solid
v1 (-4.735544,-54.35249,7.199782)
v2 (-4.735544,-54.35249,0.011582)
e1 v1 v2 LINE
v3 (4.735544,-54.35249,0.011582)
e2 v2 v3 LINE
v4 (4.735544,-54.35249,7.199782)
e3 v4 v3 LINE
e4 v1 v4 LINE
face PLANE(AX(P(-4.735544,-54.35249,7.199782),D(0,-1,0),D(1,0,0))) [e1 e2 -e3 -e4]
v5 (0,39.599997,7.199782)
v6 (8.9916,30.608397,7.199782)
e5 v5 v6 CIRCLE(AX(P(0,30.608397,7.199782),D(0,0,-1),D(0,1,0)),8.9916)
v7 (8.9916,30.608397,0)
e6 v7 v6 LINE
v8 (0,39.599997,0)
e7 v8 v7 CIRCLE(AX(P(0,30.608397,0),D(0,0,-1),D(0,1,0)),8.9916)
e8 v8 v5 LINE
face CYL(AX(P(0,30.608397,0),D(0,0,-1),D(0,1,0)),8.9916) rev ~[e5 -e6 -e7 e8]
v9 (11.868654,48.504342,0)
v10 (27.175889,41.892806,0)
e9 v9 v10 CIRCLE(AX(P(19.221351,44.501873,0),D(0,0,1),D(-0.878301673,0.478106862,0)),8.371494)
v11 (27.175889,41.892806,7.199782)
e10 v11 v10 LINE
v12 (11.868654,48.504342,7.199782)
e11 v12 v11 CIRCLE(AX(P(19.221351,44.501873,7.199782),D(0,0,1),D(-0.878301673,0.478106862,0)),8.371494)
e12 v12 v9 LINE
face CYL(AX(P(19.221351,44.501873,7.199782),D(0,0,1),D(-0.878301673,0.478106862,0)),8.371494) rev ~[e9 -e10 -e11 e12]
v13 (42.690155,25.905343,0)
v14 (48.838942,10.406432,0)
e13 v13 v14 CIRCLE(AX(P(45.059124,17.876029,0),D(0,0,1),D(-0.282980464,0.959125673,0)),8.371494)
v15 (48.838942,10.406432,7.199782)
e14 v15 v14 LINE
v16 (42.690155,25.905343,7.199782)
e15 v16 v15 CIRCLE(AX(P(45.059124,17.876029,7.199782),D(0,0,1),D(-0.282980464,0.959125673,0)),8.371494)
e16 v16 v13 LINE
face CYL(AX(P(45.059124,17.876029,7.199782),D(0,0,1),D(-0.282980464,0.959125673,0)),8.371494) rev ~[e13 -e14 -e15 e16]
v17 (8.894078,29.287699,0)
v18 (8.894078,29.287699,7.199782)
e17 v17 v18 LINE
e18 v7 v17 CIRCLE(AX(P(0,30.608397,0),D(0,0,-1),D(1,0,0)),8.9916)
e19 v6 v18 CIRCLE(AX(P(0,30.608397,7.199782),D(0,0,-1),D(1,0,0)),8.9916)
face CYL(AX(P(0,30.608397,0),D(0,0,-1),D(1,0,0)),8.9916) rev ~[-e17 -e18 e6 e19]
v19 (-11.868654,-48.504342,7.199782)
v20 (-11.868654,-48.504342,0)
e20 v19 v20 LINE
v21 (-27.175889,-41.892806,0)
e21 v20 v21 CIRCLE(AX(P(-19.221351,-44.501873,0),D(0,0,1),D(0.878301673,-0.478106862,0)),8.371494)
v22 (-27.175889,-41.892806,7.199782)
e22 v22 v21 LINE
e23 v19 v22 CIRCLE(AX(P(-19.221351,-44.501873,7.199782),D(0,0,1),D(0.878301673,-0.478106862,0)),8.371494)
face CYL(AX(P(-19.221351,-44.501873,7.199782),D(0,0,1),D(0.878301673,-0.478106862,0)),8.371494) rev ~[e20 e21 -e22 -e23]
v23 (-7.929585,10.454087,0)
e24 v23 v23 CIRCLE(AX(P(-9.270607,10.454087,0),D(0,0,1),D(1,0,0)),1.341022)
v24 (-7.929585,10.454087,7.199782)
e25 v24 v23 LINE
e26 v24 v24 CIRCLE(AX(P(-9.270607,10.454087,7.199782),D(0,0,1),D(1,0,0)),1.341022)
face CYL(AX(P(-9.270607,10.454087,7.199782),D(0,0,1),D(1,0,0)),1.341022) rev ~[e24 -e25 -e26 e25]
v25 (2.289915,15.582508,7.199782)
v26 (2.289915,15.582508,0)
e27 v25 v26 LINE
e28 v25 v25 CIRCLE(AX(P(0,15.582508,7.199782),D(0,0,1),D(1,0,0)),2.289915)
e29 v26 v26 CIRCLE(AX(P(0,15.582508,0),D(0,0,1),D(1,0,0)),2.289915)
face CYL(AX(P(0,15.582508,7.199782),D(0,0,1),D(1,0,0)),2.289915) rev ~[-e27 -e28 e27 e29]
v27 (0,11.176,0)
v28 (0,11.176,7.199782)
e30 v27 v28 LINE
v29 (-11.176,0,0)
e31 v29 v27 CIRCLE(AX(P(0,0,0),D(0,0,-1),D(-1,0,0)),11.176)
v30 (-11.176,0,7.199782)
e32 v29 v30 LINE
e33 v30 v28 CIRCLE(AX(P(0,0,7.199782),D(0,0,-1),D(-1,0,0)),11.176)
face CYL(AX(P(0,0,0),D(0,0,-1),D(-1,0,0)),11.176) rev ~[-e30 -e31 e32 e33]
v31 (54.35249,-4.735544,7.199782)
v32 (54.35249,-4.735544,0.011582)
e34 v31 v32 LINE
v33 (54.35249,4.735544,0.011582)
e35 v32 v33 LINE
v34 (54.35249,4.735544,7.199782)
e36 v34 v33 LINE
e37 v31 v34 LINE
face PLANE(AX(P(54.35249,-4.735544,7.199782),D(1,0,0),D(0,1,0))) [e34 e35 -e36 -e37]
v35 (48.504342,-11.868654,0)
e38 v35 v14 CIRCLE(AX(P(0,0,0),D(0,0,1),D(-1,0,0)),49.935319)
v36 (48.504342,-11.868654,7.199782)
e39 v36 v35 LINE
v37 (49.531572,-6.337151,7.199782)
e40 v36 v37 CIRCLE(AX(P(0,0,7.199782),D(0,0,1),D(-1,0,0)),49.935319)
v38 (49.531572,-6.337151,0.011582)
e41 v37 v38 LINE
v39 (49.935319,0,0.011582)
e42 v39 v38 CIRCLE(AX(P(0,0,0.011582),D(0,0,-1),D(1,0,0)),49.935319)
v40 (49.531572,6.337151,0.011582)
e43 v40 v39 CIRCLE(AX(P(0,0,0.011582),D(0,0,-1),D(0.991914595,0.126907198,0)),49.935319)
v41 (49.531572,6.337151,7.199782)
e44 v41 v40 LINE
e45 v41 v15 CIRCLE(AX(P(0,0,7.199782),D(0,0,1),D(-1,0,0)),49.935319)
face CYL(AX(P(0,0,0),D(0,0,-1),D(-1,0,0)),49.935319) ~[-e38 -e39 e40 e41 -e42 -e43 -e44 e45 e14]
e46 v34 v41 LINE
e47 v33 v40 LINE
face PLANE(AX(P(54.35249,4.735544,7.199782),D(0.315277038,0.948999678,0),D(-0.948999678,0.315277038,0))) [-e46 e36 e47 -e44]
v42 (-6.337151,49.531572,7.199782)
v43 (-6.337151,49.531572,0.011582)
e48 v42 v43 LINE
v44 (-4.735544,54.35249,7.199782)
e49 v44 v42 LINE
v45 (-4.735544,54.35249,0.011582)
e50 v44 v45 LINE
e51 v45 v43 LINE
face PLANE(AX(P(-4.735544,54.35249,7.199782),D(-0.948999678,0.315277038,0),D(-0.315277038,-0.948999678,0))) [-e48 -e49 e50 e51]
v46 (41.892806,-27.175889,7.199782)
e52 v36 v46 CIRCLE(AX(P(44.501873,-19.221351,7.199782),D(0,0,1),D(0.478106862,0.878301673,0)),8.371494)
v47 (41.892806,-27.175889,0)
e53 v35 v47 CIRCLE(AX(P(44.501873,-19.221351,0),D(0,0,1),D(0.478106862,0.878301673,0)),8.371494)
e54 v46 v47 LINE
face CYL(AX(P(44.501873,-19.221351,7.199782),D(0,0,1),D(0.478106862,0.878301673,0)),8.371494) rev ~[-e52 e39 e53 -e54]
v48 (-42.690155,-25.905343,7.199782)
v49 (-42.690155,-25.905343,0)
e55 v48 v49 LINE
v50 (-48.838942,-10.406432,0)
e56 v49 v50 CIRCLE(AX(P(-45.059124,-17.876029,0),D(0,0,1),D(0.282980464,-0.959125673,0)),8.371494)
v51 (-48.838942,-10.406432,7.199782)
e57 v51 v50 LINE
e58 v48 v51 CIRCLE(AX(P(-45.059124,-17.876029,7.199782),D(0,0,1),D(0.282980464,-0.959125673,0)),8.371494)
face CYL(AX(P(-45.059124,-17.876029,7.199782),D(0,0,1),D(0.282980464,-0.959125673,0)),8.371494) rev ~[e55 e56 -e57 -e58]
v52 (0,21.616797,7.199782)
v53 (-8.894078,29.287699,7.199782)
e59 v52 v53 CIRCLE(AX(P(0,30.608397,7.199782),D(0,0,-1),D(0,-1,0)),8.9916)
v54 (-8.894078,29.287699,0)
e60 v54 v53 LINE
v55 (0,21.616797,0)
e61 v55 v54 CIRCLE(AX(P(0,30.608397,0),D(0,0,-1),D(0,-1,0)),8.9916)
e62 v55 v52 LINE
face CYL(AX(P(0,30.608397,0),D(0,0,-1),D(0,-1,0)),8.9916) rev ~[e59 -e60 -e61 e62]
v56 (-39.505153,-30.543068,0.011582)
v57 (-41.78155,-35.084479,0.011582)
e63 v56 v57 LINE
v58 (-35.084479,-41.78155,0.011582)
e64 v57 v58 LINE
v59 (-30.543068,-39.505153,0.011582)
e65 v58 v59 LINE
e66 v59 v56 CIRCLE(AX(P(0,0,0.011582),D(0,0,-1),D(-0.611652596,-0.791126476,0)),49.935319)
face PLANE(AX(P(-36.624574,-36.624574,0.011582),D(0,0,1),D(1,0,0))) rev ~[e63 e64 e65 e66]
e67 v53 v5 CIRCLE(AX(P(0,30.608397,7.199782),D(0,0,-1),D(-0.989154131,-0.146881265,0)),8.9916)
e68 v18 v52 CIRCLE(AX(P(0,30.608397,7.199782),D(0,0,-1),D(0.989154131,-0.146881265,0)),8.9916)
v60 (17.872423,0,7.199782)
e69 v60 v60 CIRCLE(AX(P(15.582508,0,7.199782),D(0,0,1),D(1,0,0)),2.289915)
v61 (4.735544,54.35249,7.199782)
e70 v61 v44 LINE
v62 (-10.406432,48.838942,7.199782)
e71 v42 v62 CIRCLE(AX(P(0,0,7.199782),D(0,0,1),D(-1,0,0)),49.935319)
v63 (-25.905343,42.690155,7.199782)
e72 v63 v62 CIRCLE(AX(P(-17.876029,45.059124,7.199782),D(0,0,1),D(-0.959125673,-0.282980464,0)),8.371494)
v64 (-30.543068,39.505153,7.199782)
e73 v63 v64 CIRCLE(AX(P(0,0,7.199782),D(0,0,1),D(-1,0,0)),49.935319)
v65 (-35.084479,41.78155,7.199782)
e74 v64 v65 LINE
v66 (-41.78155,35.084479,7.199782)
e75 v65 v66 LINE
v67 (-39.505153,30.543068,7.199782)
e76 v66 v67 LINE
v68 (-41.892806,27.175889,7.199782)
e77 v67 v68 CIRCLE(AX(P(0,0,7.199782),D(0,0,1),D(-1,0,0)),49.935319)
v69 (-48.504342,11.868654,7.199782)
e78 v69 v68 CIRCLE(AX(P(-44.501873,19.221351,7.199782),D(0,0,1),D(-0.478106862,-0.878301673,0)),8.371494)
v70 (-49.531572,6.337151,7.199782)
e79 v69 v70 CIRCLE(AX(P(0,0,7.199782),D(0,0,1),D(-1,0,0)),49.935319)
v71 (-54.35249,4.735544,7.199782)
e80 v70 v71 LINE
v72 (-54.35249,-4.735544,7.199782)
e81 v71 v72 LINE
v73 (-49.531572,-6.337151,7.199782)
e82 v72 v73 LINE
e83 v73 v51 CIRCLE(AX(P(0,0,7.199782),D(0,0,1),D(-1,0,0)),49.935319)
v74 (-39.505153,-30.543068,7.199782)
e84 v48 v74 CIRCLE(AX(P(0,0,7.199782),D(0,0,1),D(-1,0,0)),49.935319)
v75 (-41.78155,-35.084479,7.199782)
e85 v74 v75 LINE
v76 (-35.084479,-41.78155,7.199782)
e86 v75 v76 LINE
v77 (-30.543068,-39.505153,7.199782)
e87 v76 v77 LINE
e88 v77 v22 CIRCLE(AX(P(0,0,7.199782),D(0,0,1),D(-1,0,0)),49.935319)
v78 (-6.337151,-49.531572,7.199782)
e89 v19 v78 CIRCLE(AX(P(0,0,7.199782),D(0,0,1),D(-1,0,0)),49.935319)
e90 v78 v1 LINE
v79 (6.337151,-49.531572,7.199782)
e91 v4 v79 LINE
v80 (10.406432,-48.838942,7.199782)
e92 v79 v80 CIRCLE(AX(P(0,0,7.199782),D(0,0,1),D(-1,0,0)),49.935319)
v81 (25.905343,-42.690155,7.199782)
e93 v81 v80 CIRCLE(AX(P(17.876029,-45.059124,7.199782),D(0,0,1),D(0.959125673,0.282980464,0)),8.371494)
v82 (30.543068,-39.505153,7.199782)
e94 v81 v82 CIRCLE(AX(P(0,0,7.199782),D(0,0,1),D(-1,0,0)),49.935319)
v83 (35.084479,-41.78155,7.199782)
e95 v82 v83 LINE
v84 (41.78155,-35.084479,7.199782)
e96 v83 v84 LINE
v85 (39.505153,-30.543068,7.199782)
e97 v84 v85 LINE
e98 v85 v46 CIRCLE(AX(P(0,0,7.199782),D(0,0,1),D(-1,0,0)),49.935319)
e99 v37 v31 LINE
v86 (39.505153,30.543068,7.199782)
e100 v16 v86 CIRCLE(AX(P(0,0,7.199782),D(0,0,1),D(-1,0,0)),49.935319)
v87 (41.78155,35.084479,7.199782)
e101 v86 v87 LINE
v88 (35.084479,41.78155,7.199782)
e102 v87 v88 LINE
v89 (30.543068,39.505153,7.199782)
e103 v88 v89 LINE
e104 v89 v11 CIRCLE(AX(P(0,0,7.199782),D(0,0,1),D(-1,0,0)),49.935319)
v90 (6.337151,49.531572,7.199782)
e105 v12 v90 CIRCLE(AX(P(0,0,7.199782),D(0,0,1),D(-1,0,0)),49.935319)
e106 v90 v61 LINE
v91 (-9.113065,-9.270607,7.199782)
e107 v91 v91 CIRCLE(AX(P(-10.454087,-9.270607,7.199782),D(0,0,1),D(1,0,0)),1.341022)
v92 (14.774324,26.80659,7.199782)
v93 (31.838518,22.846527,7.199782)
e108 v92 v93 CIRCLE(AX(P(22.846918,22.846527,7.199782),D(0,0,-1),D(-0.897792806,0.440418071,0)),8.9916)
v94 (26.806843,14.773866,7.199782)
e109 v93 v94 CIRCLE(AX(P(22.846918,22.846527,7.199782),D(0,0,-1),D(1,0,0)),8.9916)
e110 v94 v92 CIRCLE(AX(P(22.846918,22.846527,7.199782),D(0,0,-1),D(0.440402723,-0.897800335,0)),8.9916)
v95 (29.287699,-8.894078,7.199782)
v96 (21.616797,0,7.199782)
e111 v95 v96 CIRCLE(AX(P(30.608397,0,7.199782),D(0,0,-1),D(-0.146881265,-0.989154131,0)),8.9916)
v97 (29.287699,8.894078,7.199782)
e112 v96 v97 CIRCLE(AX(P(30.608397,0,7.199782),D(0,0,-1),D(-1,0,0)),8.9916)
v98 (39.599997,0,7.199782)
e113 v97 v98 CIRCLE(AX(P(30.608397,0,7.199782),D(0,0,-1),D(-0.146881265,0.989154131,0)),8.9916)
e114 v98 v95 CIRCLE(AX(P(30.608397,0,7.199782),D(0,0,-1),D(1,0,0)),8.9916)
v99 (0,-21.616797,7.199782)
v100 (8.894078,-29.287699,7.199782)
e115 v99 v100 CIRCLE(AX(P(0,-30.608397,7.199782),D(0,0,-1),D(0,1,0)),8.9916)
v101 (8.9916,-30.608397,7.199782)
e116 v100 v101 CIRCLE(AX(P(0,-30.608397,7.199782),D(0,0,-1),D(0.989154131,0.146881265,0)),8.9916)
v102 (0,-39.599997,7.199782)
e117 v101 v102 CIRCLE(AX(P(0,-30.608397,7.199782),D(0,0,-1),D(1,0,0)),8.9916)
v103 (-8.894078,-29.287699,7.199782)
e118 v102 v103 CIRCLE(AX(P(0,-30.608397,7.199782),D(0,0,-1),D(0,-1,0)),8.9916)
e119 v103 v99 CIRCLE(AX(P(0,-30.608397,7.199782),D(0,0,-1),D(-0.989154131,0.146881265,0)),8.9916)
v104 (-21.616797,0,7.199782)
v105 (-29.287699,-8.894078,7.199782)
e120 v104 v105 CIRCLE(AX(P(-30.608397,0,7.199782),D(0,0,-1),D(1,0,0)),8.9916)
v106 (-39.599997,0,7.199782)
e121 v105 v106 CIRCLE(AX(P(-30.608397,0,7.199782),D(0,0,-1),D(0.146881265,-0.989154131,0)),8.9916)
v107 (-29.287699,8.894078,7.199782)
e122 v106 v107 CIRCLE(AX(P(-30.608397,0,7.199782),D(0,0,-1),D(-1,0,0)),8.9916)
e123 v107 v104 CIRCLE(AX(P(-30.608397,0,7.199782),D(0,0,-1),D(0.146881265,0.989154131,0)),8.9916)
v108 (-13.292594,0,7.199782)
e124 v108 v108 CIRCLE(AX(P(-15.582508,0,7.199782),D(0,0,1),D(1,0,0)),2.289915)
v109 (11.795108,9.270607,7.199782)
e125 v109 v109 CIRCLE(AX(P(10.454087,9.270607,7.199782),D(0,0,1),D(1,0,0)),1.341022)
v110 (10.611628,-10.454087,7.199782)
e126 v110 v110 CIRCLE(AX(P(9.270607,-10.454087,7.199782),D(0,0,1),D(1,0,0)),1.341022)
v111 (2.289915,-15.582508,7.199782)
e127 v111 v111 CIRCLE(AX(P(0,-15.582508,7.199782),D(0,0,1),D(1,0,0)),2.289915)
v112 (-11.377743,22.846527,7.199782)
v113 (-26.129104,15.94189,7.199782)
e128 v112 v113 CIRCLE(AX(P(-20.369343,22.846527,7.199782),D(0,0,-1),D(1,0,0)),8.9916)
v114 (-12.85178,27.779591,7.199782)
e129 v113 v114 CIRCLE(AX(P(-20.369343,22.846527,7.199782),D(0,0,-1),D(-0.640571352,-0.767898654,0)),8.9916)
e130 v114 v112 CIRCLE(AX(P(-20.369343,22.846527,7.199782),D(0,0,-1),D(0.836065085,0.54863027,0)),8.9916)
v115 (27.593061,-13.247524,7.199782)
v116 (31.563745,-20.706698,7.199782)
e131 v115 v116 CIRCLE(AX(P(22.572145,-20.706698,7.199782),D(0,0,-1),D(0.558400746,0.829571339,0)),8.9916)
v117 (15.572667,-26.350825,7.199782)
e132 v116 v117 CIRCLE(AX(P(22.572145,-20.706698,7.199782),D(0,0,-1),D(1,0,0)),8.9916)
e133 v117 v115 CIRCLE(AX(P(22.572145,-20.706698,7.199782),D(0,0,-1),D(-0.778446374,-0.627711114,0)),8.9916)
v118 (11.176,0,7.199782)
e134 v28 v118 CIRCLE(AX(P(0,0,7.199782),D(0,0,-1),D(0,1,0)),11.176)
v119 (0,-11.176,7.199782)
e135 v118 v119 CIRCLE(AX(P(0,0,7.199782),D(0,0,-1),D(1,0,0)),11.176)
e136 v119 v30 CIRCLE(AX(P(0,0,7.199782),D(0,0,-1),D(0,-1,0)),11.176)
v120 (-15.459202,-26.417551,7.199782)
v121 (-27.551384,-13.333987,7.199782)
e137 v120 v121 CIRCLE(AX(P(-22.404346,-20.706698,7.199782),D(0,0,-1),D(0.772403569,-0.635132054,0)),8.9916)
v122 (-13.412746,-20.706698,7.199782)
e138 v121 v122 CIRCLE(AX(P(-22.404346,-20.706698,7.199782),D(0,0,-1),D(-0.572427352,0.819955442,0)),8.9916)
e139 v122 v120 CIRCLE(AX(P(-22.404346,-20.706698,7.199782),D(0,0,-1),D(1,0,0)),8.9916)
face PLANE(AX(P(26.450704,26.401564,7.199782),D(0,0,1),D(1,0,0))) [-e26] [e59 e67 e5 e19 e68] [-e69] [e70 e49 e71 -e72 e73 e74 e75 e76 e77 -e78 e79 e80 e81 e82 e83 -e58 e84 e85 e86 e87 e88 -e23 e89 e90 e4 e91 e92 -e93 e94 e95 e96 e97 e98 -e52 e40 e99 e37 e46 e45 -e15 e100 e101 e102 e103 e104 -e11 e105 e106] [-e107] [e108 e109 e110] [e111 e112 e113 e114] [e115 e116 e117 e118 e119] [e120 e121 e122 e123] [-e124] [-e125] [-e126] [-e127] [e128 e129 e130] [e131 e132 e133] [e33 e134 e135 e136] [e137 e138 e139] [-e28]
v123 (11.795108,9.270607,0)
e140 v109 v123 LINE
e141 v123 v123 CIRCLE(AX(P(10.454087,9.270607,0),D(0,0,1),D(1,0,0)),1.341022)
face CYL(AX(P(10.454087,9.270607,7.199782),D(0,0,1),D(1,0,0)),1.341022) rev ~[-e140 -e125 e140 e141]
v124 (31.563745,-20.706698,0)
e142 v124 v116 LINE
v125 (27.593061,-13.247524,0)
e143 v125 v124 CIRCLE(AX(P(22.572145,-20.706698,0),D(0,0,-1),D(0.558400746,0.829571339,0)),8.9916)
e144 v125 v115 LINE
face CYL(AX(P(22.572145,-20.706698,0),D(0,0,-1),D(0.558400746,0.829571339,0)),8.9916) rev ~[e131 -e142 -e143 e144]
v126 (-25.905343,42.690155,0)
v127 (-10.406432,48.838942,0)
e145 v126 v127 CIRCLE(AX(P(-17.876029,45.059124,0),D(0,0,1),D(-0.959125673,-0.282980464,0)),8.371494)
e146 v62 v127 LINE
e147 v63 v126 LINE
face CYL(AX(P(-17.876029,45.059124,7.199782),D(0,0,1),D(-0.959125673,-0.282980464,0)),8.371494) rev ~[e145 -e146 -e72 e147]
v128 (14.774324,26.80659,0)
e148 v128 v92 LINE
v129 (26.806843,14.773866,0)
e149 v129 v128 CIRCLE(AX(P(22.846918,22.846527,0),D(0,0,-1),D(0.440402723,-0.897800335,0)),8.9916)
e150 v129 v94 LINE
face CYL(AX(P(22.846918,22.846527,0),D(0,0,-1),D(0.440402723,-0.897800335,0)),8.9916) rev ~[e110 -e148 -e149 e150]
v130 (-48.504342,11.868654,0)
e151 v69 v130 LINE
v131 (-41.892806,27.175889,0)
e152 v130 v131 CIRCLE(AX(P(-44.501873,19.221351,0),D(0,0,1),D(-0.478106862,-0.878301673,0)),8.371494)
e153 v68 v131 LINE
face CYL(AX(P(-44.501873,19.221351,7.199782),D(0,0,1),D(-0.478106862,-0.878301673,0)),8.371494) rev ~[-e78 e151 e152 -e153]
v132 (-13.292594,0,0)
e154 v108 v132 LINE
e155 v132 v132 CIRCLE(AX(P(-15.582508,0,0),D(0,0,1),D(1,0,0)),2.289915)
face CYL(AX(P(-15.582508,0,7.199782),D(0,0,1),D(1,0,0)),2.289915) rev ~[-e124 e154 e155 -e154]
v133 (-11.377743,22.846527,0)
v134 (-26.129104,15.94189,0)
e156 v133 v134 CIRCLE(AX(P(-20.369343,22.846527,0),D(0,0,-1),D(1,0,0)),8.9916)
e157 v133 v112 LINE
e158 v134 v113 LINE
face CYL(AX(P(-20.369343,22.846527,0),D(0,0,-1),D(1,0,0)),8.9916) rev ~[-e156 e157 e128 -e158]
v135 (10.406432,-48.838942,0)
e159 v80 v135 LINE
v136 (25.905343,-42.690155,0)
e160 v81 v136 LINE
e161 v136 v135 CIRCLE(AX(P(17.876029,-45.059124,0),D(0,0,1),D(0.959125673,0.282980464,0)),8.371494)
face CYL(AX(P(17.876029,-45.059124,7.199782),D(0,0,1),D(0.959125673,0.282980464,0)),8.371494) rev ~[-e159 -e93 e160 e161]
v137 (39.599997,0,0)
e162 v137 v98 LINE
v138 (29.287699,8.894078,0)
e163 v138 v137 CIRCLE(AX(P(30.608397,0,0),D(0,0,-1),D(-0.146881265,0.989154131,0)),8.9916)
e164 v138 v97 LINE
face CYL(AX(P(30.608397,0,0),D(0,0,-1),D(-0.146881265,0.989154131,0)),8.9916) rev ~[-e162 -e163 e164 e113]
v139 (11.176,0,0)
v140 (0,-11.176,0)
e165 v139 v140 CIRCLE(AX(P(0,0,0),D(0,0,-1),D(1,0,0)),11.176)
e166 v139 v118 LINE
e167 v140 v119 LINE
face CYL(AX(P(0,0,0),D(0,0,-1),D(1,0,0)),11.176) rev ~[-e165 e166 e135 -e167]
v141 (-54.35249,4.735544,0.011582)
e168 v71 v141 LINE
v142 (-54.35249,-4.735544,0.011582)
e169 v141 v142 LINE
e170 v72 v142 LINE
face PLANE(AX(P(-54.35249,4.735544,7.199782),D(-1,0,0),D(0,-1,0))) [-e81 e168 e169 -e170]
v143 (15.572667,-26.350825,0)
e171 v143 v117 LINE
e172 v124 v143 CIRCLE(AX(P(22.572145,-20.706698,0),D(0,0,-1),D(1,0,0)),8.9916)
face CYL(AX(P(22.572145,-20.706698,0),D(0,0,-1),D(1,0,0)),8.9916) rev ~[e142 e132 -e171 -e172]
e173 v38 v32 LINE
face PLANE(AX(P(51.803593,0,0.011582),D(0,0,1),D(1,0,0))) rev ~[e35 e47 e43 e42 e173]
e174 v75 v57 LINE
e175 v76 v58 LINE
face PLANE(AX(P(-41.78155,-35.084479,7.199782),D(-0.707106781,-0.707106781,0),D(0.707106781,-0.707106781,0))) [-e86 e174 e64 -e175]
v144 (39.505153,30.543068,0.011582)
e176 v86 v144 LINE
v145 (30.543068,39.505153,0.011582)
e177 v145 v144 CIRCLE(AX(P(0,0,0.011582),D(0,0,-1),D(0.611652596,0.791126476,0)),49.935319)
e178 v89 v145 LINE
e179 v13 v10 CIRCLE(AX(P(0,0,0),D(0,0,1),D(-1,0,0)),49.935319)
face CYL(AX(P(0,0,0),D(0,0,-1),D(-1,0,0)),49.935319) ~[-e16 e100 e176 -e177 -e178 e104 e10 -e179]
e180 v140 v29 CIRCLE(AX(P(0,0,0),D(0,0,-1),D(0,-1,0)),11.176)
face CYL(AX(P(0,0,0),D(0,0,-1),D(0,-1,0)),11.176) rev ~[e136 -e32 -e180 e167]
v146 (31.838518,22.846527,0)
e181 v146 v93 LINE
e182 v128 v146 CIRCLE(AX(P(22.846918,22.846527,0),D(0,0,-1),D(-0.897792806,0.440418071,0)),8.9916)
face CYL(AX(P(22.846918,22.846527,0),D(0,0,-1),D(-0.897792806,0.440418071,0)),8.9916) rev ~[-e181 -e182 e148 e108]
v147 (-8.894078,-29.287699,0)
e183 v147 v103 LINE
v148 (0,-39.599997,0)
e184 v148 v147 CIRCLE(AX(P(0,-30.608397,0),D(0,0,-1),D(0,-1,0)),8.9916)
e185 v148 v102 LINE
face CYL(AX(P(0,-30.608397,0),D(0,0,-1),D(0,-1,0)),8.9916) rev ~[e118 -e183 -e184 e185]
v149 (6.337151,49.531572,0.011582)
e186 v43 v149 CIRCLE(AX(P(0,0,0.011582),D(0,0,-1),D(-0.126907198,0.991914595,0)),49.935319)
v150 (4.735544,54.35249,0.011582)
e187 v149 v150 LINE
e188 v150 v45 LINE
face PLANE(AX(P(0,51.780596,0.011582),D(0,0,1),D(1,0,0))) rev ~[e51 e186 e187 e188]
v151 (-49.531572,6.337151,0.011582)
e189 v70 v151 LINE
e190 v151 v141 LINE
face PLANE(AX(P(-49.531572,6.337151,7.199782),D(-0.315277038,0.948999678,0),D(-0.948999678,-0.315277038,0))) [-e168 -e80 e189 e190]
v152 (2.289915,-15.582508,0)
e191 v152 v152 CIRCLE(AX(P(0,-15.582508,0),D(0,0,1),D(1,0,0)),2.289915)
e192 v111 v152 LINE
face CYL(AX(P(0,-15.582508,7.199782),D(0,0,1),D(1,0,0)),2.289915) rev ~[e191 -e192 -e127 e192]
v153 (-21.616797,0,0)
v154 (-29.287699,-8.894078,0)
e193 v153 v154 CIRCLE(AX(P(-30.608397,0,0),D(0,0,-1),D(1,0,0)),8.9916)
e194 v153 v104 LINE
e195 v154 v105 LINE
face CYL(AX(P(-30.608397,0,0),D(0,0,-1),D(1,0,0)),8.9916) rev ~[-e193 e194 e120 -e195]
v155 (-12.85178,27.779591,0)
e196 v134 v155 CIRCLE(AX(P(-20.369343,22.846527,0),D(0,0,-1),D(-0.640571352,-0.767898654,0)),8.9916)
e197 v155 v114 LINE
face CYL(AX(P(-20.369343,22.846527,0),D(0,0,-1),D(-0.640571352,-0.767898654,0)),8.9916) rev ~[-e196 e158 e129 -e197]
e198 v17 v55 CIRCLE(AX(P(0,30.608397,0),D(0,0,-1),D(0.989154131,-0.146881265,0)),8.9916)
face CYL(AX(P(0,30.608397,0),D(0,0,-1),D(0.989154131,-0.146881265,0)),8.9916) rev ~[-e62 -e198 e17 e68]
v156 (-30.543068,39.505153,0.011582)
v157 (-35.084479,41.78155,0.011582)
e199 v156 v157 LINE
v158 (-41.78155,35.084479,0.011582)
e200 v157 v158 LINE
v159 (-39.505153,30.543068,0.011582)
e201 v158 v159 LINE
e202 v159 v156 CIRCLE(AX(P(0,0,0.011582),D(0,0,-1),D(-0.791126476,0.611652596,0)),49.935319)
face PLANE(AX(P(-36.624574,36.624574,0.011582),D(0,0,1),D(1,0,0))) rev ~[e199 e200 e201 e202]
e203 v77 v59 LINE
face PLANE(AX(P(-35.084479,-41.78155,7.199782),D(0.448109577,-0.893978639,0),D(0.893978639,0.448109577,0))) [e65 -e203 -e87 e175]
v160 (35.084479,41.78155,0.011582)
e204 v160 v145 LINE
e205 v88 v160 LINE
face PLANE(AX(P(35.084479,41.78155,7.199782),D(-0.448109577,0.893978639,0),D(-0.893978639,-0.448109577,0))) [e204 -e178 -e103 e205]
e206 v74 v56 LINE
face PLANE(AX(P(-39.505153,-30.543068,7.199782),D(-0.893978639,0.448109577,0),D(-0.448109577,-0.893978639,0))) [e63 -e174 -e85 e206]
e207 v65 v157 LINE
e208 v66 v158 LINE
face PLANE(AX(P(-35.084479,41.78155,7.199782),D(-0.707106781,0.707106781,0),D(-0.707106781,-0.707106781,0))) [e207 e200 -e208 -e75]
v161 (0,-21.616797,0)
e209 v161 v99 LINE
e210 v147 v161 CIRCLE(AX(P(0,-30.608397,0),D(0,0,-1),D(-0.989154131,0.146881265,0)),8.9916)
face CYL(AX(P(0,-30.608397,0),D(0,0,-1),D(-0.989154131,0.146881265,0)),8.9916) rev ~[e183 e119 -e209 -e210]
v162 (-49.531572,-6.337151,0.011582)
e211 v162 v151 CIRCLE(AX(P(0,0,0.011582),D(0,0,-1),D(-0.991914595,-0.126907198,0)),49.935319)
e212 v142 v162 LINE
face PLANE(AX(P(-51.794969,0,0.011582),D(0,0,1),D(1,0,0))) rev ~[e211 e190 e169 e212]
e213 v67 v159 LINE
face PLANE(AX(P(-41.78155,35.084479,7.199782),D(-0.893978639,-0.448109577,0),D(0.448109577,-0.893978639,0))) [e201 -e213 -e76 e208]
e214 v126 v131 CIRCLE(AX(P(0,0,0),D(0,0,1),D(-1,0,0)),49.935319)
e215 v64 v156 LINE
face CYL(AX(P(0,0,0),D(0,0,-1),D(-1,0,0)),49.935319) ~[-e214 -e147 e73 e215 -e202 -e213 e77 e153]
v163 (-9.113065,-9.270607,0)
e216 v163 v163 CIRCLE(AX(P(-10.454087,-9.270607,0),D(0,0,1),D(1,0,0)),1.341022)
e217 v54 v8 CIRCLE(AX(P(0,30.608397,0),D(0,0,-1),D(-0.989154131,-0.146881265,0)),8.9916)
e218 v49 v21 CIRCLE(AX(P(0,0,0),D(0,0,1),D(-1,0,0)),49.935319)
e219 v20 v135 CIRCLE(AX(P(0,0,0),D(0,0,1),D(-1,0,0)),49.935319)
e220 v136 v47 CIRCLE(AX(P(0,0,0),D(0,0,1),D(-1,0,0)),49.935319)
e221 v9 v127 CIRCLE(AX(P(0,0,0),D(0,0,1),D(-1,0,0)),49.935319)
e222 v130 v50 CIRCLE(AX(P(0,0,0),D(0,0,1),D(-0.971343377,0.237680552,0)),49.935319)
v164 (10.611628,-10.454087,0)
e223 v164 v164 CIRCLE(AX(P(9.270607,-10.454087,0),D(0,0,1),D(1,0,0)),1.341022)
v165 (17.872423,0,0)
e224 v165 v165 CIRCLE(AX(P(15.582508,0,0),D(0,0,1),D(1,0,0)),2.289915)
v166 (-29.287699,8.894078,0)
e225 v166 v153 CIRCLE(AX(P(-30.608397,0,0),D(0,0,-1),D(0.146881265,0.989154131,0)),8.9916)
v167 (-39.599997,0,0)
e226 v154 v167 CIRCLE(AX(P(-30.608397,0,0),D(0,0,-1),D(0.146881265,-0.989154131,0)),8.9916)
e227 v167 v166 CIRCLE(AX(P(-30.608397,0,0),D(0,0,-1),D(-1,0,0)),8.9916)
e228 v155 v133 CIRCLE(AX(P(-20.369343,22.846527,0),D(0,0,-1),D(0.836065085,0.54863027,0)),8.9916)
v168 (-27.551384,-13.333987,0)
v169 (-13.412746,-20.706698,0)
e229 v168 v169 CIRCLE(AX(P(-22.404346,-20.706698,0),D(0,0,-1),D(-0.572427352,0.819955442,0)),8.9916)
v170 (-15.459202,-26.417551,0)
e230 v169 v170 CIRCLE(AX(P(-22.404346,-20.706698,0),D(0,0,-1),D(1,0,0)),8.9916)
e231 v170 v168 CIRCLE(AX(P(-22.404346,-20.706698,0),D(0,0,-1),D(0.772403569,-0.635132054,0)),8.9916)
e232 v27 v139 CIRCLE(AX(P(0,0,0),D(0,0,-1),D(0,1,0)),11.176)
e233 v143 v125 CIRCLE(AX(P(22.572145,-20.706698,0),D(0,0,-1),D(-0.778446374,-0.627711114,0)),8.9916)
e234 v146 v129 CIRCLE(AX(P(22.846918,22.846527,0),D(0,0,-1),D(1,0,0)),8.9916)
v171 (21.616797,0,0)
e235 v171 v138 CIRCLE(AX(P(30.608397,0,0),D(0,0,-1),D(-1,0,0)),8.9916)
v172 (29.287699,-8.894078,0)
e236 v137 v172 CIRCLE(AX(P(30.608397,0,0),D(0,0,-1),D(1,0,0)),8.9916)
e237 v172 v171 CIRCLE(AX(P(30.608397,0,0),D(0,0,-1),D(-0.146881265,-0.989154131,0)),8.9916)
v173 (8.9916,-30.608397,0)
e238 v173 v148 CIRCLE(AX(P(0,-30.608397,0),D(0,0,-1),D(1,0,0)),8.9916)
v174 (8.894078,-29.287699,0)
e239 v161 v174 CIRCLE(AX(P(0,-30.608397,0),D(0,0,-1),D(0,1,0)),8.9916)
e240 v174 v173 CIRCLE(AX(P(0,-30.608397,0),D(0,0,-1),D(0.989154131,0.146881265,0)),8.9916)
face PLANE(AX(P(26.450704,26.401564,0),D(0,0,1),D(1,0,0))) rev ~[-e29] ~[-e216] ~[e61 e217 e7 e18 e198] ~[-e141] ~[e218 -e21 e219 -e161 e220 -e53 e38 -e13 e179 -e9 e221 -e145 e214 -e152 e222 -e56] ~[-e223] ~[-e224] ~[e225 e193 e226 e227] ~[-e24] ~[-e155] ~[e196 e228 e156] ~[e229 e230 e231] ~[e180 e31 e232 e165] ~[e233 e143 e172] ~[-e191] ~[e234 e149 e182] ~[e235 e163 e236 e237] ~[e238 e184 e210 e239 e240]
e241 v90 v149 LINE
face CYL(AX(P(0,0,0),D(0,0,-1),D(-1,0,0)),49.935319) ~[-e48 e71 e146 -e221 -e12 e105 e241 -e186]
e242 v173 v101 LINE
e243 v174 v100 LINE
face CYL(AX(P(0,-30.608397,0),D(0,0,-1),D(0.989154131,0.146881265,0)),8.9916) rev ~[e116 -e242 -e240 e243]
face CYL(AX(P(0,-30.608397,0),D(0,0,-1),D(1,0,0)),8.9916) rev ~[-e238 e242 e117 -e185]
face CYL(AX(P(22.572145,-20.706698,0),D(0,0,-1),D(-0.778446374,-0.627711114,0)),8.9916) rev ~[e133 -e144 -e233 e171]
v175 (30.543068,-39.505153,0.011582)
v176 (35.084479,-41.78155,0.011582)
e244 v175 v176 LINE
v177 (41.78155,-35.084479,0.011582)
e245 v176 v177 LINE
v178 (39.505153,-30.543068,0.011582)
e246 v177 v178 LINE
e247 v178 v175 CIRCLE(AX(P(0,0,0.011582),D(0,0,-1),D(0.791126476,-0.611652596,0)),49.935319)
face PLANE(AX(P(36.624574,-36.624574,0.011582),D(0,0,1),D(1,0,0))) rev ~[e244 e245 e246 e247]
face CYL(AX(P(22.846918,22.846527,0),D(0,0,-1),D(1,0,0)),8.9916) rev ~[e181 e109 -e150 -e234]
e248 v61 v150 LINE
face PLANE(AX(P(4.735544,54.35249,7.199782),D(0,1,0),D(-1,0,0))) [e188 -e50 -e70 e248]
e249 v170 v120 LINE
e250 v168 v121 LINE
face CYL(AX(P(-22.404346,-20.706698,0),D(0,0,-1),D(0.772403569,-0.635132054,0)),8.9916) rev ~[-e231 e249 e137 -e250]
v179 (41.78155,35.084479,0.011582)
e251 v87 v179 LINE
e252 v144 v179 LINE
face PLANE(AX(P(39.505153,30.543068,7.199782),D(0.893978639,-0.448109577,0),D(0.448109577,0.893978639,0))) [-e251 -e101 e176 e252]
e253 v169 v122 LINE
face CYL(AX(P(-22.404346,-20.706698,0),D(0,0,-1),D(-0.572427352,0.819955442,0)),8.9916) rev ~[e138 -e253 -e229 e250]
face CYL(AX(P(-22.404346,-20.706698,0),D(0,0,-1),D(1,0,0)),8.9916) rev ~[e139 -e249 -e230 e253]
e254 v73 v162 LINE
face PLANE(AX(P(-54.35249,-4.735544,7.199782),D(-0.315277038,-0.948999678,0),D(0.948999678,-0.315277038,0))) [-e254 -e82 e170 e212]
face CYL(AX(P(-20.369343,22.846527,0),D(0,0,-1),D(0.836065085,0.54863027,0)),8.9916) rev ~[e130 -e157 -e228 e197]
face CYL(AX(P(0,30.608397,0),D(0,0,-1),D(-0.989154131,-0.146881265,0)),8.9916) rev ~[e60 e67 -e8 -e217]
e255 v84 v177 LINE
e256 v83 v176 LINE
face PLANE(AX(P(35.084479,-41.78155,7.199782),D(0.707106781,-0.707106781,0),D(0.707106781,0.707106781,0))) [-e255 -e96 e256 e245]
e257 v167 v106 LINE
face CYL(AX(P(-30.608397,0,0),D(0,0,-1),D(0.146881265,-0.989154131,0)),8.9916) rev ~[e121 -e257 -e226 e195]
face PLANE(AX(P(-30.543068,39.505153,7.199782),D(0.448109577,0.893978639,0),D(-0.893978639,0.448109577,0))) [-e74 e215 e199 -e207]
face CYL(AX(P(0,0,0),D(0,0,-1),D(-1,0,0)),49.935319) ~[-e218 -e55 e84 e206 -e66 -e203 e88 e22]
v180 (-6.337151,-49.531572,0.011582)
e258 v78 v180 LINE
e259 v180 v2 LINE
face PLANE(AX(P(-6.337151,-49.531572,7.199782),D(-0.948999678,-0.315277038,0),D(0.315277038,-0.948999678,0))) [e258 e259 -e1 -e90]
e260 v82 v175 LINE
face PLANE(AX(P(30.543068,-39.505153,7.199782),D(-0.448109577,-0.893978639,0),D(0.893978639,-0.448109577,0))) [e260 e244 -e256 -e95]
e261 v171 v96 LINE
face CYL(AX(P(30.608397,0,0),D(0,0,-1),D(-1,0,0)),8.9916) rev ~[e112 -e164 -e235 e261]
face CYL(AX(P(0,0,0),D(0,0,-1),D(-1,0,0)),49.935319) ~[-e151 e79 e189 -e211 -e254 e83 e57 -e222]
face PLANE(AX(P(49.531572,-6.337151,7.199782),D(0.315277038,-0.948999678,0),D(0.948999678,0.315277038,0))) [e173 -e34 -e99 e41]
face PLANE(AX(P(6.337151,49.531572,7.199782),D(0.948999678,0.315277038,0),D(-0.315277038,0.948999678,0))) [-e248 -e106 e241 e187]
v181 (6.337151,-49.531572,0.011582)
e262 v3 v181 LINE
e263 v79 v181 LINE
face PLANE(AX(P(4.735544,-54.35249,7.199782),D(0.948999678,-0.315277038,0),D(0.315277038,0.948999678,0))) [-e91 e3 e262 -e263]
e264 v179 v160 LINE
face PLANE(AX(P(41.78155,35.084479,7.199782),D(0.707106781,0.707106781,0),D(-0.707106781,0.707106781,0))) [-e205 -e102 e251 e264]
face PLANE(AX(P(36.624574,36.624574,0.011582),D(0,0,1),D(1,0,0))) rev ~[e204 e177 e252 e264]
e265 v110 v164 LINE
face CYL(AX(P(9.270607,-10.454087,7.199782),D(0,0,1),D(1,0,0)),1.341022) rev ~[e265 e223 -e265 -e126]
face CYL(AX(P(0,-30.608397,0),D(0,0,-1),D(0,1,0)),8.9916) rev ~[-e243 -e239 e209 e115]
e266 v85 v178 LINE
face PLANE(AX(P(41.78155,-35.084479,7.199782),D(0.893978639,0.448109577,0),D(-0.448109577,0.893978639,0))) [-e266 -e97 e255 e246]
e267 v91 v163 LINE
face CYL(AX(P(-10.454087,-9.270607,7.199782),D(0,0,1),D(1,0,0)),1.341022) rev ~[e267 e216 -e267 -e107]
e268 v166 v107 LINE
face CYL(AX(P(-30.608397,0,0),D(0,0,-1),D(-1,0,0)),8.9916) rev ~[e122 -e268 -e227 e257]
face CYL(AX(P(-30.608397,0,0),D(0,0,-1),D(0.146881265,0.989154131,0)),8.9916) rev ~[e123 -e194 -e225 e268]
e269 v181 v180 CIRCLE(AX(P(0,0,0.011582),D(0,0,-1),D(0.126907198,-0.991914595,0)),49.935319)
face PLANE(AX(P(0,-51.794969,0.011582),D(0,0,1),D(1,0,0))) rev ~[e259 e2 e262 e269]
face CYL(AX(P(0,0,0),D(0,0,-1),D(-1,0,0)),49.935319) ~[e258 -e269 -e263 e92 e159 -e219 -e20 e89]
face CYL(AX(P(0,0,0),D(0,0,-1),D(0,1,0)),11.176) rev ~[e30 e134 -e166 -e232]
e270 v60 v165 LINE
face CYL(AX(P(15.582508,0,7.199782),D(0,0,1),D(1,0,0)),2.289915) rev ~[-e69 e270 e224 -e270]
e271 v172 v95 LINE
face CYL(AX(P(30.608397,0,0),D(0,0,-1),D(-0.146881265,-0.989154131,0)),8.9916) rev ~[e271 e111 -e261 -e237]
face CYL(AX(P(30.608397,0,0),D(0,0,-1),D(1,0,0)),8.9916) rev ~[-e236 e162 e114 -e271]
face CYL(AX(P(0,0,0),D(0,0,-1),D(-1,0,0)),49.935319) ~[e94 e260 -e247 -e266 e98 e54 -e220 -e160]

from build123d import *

# Parameters (mm, degrees)
F1_DEPTH = 7.1997824
F3_DEPTH = 7.1882
F4_R     = 2.2899148763
F4_R_2   = 1.3410215673
F5_DEPTH = 7.2007824


with BuildPart() as f1:
    # F0 (on Top) → F1 (new body)
    with BuildSketch(Plane.XY):
        with BuildLine():
            ThreePointArc((26.8068429755, 14.7738658062), (28.2009288002, 11.898804813), (29.2876989999, 8.8940782807))
            ThreePointArc((29.2876989999, 8.8940782807), (36.4809465454, 6.8089666954), (39.5999965796, 0))
            Line((39.5999965796, 0), (49.9353191489, 0))
            ThreePointArc((49.9353191489, 0), (35.3096027909, 35.3096027909), (0, 49.9353191489))
            Line((0, 49.9353191489), (0, 39.5999965796))
            ThreePointArc((0, 39.5999965796), (6.3580213337, 36.9664179133), (8.9916, 30.6083965796))
            ThreePointArc((8.9916, 30.6083965796), (8.9671864269, 29.9462499601), (8.8940782807, 29.2876989999))
            ThreePointArc((8.8940782807, 29.2876989999), (11.8990458515, 28.2008270978), (14.7743240507, 26.8065904213))
            ThreePointArc((14.7743240507, 26.8065904213), (24.8795683557, 31.6053629769), (31.8385178476, 22.8465272968))
            ThreePointArc((31.8385178476, 22.8465272968), (30.4776102585, 18.0903309289), (26.8068429755, 14.7738658062))
        make_face()
        with BuildLine():
            ThreePointArc((39.5999965796, 0), (36.4809465454, -6.8089666954), (29.2876989999, -8.8940782807))
            ThreePointArc((29.2876989999, -8.8940782807), (28.5235578365, -11.1031792529), (27.5930614992, -13.247524232))
            ThreePointArc((27.5930614992, -13.247524232), (30.5092399161, -16.4816061164), (31.5637453542, -20.7066978876))
            ThreePointArc((31.5637453542, -20.7066978876), (25.5648331452, -29.185653622), (15.5726669375, -26.3508251413))
            ThreePointArc((15.5726669375, -26.3508251413), (12.3211895696, -28.0189619502), (8.8940782807, -29.2876989999))
            ThreePointArc((8.8940782807, -29.2876989999), (8.9671864269, -29.9462499601), (8.9916, -30.6083965796))
            ThreePointArc((8.9916, -30.6083965796), (6.3580213337, -36.9664179133), (0, -39.5999965796))
            Line((0, -39.5999965796), (0, -49.9353191489))
            ThreePointArc((0, -49.9353191489), (35.3096027909, -35.3096027909), (49.9353191489, 0))
            Line((49.9353191489, 0), (39.5999965796, 0))
        make_face()
        with BuildLine():
            Line((0, 39.5999965796), (0, 49.9353191489))
            ThreePointArc((0, 49.9353191489), (-35.3096027909, 35.3096027909), (-49.9353191489, 0))
            Line((-49.9353191489, 0), (-39.5999965796, 0))
            ThreePointArc((-39.5999965796, 0), (-36.4809465454, 6.8089666954), (-29.2876989999, 8.8940782807))
            ThreePointArc((-29.2876989999, 8.8940782807), (-27.9315848801, 12.5180073198), (-26.129104309, 15.9418897619))
            ThreePointArc((-26.129104309, 15.9418897619), (-26.3530926392, 29.5579809434), (-12.8517801152, 27.7795912325))
            ThreePointArc((-12.8517801152, 27.7795912325), (-10.8990452152, 28.6021809408), (-8.8940782807, 29.2876989999))
            ThreePointArc((-8.8940782807, 29.2876989999), (-6.8089666954, 36.4809465454), (0, 39.5999965796))
        make_face()
        with BuildLine():
            ThreePointArc((-49.9353191489, 0), (-35.3096027909, -35.3096027909), (0, -49.9353191489))
            Line((0, -49.9353191489), (0, -39.5999965796))
            ThreePointArc((0, -39.5999965796), (-6.8089666954, -36.4809465454), (-8.8940782807, -29.2876989999))
            ThreePointArc((-8.8940782807, -29.2876989999), (-12.2609135884, -28.0453906935), (-15.4592019928, -26.4175512665))
            ThreePointArc((-15.4592019928, -26.4175512665), (-29.0076188208, -26.8096199443), (-27.5513837069, -13.3339865386))
            ThreePointArc((-27.5513837069, -13.3339865386), (-28.5061138543, -11.1478883248), (-29.2876989999, -8.8940782807))
            ThreePointArc((-29.2876989999, -8.8940782807), (-36.4809465454, -6.8089666954), (-39.5999965796, 0))
            Line((-39.5999965796, 0), (-49.9353191489, 0))
        make_face()
        with BuildLine():
            ThreePointArc((21.6167965796, 0), (23.7994298842, 5.8725499658), (29.2876989999, 8.8940782807))
            ThreePointArc((29.2876989999, 8.8940782807), (28.2009288002, 11.898804813), (26.8068429755, 14.7738658062))
            ThreePointArc((26.8068429755, 14.7738658062), (16.4888421709, 16.4885603065), (14.7743240507, 26.8065904213))
            ThreePointArc((14.7743240507, 26.8065904213), (11.8990458515, 28.2008270978), (8.8940782807, 29.2876989999))
            ThreePointArc((8.8940782807, 29.2876989999), (5.8725499658, 23.7994298842), (0, 21.6167965796))
            Line((0, 21.6167965796), (0, 11.176))
            ThreePointArc((0, 11.176), (7.9026253865, 7.9026253865), (11.176, 0))
            Line((11.176, 0), (21.6167965796, 0))
        make_face()
        with BuildLine():
            ThreePointArc((-11.176, 0), (-7.9026253865, 7.9026253865), (0, 11.176))
            Line((0, 11.176), (0, 21.6167965796))
            ThreePointArc((0, 21.6167965796), (-5.8725499658, 23.7994298842), (-8.8940782807, 29.2876989999))
            ThreePointArc((-8.8940782807, 29.2876989999), (-10.8990452152, 28.6021809408), (-12.8517801152, 27.7795912325))
            ThreePointArc((-12.8517801152, 27.7795912325), (-11.754129984, 25.4208187235), (-11.3777429362, 22.8465272968))
            ThreePointArc((-11.3777429362, 22.8465272968), (-16.557558564, 14.7028689997), (-26.129104309, 15.9418897619))
            ThreePointArc((-26.129104309, 15.9418897619), (-27.9315848801, 12.5180073198), (-29.2876989999, 8.8940782807))
            ThreePointArc((-29.2876989999, 8.8940782807), (-23.7994298842, 5.8725499658), (-21.6167965796, 0))
            Line((-21.6167965796, 0), (-11.176, 0))
        make_face()
        with BuildLine():
            Line((0, -21.6167965796), (0, -11.176))
            ThreePointArc((0, -11.176), (-7.9026253865, -7.9026253865), (-11.176, 0))
            Line((-11.176, 0), (-21.6167965796, 0))
            ThreePointArc((-21.6167965796, 0), (-23.7994298842, -5.8725499658), (-29.2876989999, -8.8940782807))
            ThreePointArc((-29.2876989999, -8.8940782807), (-28.5061138543, -11.1478883248), (-27.5513837069, -13.3339865386))
            ThreePointArc((-27.5513837069, -13.3339865386), (-18.2468968491, -12.7339638686), (-13.4127459254, -20.7066978876))
            ThreePointArc((-13.4127459254, -20.7066978876), (-13.9398073454, -23.7399234295), (-15.4592019928, -26.4175512665))
            ThreePointArc((-15.4592019928, -26.4175512665), (-12.2609135884, -28.0453906935), (-8.8940782807, -29.2876989999))
            ThreePointArc((-8.8940782807, -29.2876989999), (-5.8725499658, -23.7994298842), (0, -21.6167965796))
        make_face()
        with BuildLine():
            ThreePointArc((27.5930614992, -13.247524232), (28.5235578365, -11.1031792529), (29.2876989999, -8.8940782807))
            ThreePointArc((29.2876989999, -8.8940782807), (23.7994298842, -5.8725499658), (21.6167965796, 0))
            Line((21.6167965796, 0), (11.176, 0))
            ThreePointArc((11.176, 0), (7.9026253865, -7.9026253865), (0, -11.176))
            Line((0, -11.176), (0, -21.6167965796))
            ThreePointArc((0, -21.6167965796), (5.8725499658, -23.7994298842), (8.8940782807, -29.2876989999))
            ThreePointArc((8.8940782807, -29.2876989999), (12.3211895696, -28.0189619502), (15.5726669375, -26.3508251413))
            ThreePointArc((15.5726669375, -26.3508251413), (15.9462264862, -14.628370016), (27.5930614992, -13.247524232))
        make_face()
    extrude(amount=F1_DEPTH)

    # F2 (on face) → F3 (join)
    with BuildSketch(Plane.XY.offset(7.1997824)):
        Polygon((-6.3371514202, 49.5315718546), (0, 49.9353191489), (6.3371514202, 49.5315718546), (4.7355440691, 54.3524902207), (-4.7355440691, 54.3524902207), align=None)
        with BuildLine():
            Line((35.0844790855, 41.7815497333), (30.5430675986, 39.5051530838))
            ThreePointArc((30.5430675986, 39.5051530838), (35.3096027909, 35.3096027909), (39.5051530838, 30.5430675986))
            Line((39.5051530838, 30.5430675986), (41.7815497333, 35.0844790855))
            Line((41.7815497333, 35.0844790855), (35.0844790855, 41.7815497333))
        make_face()
        with BuildLine():
            Line((54.3524902207, 4.7355440691), (49.5315718546, 6.3371514202))
            ThreePointArc((49.5315718546, 6.3371514202), (49.8342801042, 3.175), (49.9353191489, 0))
            ThreePointArc((49.9353191489, 0), (49.8342801042, -3.175), (49.5315718546, -6.3371514202))
            Line((49.5315718546, -6.3371514202), (54.3524902207, -4.7355440691))
            Line((54.3524902207, -4.7355440691), (54.3524902207, 4.7355440691))
        make_face()
        with BuildLine():
            Line((41.7815497333, -35.0844790855), (39.5051530838, -30.5430675986))
            ThreePointArc((39.5051530838, -30.5430675986), (35.3096027909, -35.3096027909), (30.5430675986, -39.5051530838))
            Line((30.5430675986, -39.5051530838), (35.0844790855, -41.7815497333))
            Line((35.0844790855, -41.7815497333), (41.7815497333, -35.0844790855))
        make_face()
        with BuildLine():
            ThreePointArc((6.3371514202, -49.5315718546), (0, -49.9353191489), (-6.3371514202, -49.5315718546))
            Line((-6.3371514202, -49.5315718546), (-4.7355440691, -54.3524902207))
            Line((-4.7355440691, -54.3524902207), (4.7355440691, -54.3524902207))
            Line((4.7355440691, -54.3524902207), (6.3371514202, -49.5315718546))
        make_face()
        with BuildLine():
            ThreePointArc((-30.5430675986, -39.5051530838), (-35.3096027909, -35.3096027909), (-39.5051530838, -30.5430675986))
            Line((-39.5051530838, -30.5430675986), (-41.7815497333, -35.0844790855))
            Line((-41.7815497333, -35.0844790855), (-35.0844790855, -41.7815497333))
            Line((-35.0844790855, -41.7815497333), (-30.5430675986, -39.5051530838))
        make_face()
        with BuildLine():
            ThreePointArc((-49.5315718546, -6.3371514202), (-49.9353191489, 0), (-49.5315718546, 6.3371514202))
            Line((-49.5315718546, 6.3371514202), (-54.3524902207, 4.7355440691))
            Line((-54.3524902207, 4.7355440691), (-54.3524902207, -4.7355440691))
            Line((-54.3524902207, -4.7355440691), (-49.5315718546, -6.3371514202))
        make_face()
        with BuildLine():
            ThreePointArc((-39.5051530838, 30.5430675986), (-35.3096027909, 35.3096027909), (-30.5430675986, 39.5051530838))
            Line((-30.5430675986, 39.5051530838), (-35.0844790855, 41.7815497333))
            Line((-35.0844790855, 41.7815497333), (-41.7815497333, 35.0844790855))
            Line((-41.7815497333, 35.0844790855), (-39.5051530838, 30.5430675986))
        make_face()
    extrude(amount=-F3_DEPTH)

    # F4 (on face) → F5 (cut, through all)
    with BuildSketch(Plane.XY.offset(7.1997824)):
        with BuildLine():
            ThreePointArc((-25.9053429123, 42.6901546858), (-14.7889234536, 37.2776274416), (-10.4064317562, 48.8389422143))
            ThreePointArc((-10.4064317562, 48.8389422143), (-18.4143460897, 46.4160312456), (-25.9053429123, 42.6901546858))
        make_face()
        with BuildLine():
            ThreePointArc((-48.5043415105, 11.868654226), (-36.816611211, 15.90191509), (-41.8928056885, 27.1758887629))
            ThreePointArc((-41.8928056885, 27.1758887629), (-45.8419994407, 19.8001814584), (-48.5043415105, 11.868654226))
        make_face()
        with BuildLine():
            ThreePointArc((-11.868654226, -48.5043415105), (-15.90191509, -36.816611211), (-27.1758887629, -41.8928056885))
            ThreePointArc((-27.1758887629, -41.8928056885), (-19.8001814584, -45.8419994407), (-11.868654226, -48.5043415105))
        make_face()
        with BuildLine():
            ThreePointArc((-42.6901546858, -25.9053429123), (-37.2776274416, -14.7889234536), (-48.8389422143, -10.4064317562))
            ThreePointArc((-48.8389422143, -10.4064317562), (-46.4160312456, -18.4143460897), (-42.6901546858, -25.9053429123))
        make_face()
        with BuildLine():
            ThreePointArc((10.4064317562, -48.8389422143), (18.4143460897, -46.4160312456), (25.9053429123, -42.6901546858))
            ThreePointArc((25.9053429123, -42.6901546858), (14.7889234536, -37.2776274416), (10.4064317562, -48.8389422143))
        make_face()
        with BuildLine():
            ThreePointArc((41.8928056885, -27.1758887629), (45.8419994407, -19.8001814584), (48.5043415105, -11.868654226))
            ThreePointArc((48.5043415105, -11.868654226), (36.816611211, -15.90191509), (41.8928056885, -27.1758887629))
        make_face()
        with BuildLine():
            ThreePointArc((48.8389422143, 10.4064317562), (46.4160312456, 18.4143460897), (42.6901546858, 25.9053429123))
            ThreePointArc((42.6901546858, 25.9053429123), (37.2776274416, 14.7889234536), (48.8389422143, 10.4064317562))
        make_face()
        with BuildLine():
            ThreePointArc((27.1758887629, 41.8928056885), (19.8001814584, 45.8419994407), (11.868654226, 48.5043415105))
            ThreePointArc((11.868654226, 48.5043415105), (15.90191509, 36.816611211), (27.1758887629, 41.8928056885))
        make_face()
        with Locations((-15.5825084075, 0)):
            Circle(F4_R)
        with Locations((-9.2706065625, 10.4540865868)):
            Circle(F4_R_2)
        with Locations((0, 15.5825084075)):
            Circle(F4_R)
        with Locations((10.4540865868, 9.2706065625)):
            Circle(F4_R_2)
        with Locations((15.5825084075, 0)):
            Circle(F4_R)
        with Locations((9.2706065625, -10.4540865868)):
            Circle(F4_R_2)
        with Locations((0, -15.5825084075)):
            Circle(F4_R)
        with Locations((-10.4540865868, -9.2706065625)):
            Circle(F4_R_2)
    extrude(amount=-F5_DEPTH, mode=Mode.SUBTRACT)


solid = f1.part
